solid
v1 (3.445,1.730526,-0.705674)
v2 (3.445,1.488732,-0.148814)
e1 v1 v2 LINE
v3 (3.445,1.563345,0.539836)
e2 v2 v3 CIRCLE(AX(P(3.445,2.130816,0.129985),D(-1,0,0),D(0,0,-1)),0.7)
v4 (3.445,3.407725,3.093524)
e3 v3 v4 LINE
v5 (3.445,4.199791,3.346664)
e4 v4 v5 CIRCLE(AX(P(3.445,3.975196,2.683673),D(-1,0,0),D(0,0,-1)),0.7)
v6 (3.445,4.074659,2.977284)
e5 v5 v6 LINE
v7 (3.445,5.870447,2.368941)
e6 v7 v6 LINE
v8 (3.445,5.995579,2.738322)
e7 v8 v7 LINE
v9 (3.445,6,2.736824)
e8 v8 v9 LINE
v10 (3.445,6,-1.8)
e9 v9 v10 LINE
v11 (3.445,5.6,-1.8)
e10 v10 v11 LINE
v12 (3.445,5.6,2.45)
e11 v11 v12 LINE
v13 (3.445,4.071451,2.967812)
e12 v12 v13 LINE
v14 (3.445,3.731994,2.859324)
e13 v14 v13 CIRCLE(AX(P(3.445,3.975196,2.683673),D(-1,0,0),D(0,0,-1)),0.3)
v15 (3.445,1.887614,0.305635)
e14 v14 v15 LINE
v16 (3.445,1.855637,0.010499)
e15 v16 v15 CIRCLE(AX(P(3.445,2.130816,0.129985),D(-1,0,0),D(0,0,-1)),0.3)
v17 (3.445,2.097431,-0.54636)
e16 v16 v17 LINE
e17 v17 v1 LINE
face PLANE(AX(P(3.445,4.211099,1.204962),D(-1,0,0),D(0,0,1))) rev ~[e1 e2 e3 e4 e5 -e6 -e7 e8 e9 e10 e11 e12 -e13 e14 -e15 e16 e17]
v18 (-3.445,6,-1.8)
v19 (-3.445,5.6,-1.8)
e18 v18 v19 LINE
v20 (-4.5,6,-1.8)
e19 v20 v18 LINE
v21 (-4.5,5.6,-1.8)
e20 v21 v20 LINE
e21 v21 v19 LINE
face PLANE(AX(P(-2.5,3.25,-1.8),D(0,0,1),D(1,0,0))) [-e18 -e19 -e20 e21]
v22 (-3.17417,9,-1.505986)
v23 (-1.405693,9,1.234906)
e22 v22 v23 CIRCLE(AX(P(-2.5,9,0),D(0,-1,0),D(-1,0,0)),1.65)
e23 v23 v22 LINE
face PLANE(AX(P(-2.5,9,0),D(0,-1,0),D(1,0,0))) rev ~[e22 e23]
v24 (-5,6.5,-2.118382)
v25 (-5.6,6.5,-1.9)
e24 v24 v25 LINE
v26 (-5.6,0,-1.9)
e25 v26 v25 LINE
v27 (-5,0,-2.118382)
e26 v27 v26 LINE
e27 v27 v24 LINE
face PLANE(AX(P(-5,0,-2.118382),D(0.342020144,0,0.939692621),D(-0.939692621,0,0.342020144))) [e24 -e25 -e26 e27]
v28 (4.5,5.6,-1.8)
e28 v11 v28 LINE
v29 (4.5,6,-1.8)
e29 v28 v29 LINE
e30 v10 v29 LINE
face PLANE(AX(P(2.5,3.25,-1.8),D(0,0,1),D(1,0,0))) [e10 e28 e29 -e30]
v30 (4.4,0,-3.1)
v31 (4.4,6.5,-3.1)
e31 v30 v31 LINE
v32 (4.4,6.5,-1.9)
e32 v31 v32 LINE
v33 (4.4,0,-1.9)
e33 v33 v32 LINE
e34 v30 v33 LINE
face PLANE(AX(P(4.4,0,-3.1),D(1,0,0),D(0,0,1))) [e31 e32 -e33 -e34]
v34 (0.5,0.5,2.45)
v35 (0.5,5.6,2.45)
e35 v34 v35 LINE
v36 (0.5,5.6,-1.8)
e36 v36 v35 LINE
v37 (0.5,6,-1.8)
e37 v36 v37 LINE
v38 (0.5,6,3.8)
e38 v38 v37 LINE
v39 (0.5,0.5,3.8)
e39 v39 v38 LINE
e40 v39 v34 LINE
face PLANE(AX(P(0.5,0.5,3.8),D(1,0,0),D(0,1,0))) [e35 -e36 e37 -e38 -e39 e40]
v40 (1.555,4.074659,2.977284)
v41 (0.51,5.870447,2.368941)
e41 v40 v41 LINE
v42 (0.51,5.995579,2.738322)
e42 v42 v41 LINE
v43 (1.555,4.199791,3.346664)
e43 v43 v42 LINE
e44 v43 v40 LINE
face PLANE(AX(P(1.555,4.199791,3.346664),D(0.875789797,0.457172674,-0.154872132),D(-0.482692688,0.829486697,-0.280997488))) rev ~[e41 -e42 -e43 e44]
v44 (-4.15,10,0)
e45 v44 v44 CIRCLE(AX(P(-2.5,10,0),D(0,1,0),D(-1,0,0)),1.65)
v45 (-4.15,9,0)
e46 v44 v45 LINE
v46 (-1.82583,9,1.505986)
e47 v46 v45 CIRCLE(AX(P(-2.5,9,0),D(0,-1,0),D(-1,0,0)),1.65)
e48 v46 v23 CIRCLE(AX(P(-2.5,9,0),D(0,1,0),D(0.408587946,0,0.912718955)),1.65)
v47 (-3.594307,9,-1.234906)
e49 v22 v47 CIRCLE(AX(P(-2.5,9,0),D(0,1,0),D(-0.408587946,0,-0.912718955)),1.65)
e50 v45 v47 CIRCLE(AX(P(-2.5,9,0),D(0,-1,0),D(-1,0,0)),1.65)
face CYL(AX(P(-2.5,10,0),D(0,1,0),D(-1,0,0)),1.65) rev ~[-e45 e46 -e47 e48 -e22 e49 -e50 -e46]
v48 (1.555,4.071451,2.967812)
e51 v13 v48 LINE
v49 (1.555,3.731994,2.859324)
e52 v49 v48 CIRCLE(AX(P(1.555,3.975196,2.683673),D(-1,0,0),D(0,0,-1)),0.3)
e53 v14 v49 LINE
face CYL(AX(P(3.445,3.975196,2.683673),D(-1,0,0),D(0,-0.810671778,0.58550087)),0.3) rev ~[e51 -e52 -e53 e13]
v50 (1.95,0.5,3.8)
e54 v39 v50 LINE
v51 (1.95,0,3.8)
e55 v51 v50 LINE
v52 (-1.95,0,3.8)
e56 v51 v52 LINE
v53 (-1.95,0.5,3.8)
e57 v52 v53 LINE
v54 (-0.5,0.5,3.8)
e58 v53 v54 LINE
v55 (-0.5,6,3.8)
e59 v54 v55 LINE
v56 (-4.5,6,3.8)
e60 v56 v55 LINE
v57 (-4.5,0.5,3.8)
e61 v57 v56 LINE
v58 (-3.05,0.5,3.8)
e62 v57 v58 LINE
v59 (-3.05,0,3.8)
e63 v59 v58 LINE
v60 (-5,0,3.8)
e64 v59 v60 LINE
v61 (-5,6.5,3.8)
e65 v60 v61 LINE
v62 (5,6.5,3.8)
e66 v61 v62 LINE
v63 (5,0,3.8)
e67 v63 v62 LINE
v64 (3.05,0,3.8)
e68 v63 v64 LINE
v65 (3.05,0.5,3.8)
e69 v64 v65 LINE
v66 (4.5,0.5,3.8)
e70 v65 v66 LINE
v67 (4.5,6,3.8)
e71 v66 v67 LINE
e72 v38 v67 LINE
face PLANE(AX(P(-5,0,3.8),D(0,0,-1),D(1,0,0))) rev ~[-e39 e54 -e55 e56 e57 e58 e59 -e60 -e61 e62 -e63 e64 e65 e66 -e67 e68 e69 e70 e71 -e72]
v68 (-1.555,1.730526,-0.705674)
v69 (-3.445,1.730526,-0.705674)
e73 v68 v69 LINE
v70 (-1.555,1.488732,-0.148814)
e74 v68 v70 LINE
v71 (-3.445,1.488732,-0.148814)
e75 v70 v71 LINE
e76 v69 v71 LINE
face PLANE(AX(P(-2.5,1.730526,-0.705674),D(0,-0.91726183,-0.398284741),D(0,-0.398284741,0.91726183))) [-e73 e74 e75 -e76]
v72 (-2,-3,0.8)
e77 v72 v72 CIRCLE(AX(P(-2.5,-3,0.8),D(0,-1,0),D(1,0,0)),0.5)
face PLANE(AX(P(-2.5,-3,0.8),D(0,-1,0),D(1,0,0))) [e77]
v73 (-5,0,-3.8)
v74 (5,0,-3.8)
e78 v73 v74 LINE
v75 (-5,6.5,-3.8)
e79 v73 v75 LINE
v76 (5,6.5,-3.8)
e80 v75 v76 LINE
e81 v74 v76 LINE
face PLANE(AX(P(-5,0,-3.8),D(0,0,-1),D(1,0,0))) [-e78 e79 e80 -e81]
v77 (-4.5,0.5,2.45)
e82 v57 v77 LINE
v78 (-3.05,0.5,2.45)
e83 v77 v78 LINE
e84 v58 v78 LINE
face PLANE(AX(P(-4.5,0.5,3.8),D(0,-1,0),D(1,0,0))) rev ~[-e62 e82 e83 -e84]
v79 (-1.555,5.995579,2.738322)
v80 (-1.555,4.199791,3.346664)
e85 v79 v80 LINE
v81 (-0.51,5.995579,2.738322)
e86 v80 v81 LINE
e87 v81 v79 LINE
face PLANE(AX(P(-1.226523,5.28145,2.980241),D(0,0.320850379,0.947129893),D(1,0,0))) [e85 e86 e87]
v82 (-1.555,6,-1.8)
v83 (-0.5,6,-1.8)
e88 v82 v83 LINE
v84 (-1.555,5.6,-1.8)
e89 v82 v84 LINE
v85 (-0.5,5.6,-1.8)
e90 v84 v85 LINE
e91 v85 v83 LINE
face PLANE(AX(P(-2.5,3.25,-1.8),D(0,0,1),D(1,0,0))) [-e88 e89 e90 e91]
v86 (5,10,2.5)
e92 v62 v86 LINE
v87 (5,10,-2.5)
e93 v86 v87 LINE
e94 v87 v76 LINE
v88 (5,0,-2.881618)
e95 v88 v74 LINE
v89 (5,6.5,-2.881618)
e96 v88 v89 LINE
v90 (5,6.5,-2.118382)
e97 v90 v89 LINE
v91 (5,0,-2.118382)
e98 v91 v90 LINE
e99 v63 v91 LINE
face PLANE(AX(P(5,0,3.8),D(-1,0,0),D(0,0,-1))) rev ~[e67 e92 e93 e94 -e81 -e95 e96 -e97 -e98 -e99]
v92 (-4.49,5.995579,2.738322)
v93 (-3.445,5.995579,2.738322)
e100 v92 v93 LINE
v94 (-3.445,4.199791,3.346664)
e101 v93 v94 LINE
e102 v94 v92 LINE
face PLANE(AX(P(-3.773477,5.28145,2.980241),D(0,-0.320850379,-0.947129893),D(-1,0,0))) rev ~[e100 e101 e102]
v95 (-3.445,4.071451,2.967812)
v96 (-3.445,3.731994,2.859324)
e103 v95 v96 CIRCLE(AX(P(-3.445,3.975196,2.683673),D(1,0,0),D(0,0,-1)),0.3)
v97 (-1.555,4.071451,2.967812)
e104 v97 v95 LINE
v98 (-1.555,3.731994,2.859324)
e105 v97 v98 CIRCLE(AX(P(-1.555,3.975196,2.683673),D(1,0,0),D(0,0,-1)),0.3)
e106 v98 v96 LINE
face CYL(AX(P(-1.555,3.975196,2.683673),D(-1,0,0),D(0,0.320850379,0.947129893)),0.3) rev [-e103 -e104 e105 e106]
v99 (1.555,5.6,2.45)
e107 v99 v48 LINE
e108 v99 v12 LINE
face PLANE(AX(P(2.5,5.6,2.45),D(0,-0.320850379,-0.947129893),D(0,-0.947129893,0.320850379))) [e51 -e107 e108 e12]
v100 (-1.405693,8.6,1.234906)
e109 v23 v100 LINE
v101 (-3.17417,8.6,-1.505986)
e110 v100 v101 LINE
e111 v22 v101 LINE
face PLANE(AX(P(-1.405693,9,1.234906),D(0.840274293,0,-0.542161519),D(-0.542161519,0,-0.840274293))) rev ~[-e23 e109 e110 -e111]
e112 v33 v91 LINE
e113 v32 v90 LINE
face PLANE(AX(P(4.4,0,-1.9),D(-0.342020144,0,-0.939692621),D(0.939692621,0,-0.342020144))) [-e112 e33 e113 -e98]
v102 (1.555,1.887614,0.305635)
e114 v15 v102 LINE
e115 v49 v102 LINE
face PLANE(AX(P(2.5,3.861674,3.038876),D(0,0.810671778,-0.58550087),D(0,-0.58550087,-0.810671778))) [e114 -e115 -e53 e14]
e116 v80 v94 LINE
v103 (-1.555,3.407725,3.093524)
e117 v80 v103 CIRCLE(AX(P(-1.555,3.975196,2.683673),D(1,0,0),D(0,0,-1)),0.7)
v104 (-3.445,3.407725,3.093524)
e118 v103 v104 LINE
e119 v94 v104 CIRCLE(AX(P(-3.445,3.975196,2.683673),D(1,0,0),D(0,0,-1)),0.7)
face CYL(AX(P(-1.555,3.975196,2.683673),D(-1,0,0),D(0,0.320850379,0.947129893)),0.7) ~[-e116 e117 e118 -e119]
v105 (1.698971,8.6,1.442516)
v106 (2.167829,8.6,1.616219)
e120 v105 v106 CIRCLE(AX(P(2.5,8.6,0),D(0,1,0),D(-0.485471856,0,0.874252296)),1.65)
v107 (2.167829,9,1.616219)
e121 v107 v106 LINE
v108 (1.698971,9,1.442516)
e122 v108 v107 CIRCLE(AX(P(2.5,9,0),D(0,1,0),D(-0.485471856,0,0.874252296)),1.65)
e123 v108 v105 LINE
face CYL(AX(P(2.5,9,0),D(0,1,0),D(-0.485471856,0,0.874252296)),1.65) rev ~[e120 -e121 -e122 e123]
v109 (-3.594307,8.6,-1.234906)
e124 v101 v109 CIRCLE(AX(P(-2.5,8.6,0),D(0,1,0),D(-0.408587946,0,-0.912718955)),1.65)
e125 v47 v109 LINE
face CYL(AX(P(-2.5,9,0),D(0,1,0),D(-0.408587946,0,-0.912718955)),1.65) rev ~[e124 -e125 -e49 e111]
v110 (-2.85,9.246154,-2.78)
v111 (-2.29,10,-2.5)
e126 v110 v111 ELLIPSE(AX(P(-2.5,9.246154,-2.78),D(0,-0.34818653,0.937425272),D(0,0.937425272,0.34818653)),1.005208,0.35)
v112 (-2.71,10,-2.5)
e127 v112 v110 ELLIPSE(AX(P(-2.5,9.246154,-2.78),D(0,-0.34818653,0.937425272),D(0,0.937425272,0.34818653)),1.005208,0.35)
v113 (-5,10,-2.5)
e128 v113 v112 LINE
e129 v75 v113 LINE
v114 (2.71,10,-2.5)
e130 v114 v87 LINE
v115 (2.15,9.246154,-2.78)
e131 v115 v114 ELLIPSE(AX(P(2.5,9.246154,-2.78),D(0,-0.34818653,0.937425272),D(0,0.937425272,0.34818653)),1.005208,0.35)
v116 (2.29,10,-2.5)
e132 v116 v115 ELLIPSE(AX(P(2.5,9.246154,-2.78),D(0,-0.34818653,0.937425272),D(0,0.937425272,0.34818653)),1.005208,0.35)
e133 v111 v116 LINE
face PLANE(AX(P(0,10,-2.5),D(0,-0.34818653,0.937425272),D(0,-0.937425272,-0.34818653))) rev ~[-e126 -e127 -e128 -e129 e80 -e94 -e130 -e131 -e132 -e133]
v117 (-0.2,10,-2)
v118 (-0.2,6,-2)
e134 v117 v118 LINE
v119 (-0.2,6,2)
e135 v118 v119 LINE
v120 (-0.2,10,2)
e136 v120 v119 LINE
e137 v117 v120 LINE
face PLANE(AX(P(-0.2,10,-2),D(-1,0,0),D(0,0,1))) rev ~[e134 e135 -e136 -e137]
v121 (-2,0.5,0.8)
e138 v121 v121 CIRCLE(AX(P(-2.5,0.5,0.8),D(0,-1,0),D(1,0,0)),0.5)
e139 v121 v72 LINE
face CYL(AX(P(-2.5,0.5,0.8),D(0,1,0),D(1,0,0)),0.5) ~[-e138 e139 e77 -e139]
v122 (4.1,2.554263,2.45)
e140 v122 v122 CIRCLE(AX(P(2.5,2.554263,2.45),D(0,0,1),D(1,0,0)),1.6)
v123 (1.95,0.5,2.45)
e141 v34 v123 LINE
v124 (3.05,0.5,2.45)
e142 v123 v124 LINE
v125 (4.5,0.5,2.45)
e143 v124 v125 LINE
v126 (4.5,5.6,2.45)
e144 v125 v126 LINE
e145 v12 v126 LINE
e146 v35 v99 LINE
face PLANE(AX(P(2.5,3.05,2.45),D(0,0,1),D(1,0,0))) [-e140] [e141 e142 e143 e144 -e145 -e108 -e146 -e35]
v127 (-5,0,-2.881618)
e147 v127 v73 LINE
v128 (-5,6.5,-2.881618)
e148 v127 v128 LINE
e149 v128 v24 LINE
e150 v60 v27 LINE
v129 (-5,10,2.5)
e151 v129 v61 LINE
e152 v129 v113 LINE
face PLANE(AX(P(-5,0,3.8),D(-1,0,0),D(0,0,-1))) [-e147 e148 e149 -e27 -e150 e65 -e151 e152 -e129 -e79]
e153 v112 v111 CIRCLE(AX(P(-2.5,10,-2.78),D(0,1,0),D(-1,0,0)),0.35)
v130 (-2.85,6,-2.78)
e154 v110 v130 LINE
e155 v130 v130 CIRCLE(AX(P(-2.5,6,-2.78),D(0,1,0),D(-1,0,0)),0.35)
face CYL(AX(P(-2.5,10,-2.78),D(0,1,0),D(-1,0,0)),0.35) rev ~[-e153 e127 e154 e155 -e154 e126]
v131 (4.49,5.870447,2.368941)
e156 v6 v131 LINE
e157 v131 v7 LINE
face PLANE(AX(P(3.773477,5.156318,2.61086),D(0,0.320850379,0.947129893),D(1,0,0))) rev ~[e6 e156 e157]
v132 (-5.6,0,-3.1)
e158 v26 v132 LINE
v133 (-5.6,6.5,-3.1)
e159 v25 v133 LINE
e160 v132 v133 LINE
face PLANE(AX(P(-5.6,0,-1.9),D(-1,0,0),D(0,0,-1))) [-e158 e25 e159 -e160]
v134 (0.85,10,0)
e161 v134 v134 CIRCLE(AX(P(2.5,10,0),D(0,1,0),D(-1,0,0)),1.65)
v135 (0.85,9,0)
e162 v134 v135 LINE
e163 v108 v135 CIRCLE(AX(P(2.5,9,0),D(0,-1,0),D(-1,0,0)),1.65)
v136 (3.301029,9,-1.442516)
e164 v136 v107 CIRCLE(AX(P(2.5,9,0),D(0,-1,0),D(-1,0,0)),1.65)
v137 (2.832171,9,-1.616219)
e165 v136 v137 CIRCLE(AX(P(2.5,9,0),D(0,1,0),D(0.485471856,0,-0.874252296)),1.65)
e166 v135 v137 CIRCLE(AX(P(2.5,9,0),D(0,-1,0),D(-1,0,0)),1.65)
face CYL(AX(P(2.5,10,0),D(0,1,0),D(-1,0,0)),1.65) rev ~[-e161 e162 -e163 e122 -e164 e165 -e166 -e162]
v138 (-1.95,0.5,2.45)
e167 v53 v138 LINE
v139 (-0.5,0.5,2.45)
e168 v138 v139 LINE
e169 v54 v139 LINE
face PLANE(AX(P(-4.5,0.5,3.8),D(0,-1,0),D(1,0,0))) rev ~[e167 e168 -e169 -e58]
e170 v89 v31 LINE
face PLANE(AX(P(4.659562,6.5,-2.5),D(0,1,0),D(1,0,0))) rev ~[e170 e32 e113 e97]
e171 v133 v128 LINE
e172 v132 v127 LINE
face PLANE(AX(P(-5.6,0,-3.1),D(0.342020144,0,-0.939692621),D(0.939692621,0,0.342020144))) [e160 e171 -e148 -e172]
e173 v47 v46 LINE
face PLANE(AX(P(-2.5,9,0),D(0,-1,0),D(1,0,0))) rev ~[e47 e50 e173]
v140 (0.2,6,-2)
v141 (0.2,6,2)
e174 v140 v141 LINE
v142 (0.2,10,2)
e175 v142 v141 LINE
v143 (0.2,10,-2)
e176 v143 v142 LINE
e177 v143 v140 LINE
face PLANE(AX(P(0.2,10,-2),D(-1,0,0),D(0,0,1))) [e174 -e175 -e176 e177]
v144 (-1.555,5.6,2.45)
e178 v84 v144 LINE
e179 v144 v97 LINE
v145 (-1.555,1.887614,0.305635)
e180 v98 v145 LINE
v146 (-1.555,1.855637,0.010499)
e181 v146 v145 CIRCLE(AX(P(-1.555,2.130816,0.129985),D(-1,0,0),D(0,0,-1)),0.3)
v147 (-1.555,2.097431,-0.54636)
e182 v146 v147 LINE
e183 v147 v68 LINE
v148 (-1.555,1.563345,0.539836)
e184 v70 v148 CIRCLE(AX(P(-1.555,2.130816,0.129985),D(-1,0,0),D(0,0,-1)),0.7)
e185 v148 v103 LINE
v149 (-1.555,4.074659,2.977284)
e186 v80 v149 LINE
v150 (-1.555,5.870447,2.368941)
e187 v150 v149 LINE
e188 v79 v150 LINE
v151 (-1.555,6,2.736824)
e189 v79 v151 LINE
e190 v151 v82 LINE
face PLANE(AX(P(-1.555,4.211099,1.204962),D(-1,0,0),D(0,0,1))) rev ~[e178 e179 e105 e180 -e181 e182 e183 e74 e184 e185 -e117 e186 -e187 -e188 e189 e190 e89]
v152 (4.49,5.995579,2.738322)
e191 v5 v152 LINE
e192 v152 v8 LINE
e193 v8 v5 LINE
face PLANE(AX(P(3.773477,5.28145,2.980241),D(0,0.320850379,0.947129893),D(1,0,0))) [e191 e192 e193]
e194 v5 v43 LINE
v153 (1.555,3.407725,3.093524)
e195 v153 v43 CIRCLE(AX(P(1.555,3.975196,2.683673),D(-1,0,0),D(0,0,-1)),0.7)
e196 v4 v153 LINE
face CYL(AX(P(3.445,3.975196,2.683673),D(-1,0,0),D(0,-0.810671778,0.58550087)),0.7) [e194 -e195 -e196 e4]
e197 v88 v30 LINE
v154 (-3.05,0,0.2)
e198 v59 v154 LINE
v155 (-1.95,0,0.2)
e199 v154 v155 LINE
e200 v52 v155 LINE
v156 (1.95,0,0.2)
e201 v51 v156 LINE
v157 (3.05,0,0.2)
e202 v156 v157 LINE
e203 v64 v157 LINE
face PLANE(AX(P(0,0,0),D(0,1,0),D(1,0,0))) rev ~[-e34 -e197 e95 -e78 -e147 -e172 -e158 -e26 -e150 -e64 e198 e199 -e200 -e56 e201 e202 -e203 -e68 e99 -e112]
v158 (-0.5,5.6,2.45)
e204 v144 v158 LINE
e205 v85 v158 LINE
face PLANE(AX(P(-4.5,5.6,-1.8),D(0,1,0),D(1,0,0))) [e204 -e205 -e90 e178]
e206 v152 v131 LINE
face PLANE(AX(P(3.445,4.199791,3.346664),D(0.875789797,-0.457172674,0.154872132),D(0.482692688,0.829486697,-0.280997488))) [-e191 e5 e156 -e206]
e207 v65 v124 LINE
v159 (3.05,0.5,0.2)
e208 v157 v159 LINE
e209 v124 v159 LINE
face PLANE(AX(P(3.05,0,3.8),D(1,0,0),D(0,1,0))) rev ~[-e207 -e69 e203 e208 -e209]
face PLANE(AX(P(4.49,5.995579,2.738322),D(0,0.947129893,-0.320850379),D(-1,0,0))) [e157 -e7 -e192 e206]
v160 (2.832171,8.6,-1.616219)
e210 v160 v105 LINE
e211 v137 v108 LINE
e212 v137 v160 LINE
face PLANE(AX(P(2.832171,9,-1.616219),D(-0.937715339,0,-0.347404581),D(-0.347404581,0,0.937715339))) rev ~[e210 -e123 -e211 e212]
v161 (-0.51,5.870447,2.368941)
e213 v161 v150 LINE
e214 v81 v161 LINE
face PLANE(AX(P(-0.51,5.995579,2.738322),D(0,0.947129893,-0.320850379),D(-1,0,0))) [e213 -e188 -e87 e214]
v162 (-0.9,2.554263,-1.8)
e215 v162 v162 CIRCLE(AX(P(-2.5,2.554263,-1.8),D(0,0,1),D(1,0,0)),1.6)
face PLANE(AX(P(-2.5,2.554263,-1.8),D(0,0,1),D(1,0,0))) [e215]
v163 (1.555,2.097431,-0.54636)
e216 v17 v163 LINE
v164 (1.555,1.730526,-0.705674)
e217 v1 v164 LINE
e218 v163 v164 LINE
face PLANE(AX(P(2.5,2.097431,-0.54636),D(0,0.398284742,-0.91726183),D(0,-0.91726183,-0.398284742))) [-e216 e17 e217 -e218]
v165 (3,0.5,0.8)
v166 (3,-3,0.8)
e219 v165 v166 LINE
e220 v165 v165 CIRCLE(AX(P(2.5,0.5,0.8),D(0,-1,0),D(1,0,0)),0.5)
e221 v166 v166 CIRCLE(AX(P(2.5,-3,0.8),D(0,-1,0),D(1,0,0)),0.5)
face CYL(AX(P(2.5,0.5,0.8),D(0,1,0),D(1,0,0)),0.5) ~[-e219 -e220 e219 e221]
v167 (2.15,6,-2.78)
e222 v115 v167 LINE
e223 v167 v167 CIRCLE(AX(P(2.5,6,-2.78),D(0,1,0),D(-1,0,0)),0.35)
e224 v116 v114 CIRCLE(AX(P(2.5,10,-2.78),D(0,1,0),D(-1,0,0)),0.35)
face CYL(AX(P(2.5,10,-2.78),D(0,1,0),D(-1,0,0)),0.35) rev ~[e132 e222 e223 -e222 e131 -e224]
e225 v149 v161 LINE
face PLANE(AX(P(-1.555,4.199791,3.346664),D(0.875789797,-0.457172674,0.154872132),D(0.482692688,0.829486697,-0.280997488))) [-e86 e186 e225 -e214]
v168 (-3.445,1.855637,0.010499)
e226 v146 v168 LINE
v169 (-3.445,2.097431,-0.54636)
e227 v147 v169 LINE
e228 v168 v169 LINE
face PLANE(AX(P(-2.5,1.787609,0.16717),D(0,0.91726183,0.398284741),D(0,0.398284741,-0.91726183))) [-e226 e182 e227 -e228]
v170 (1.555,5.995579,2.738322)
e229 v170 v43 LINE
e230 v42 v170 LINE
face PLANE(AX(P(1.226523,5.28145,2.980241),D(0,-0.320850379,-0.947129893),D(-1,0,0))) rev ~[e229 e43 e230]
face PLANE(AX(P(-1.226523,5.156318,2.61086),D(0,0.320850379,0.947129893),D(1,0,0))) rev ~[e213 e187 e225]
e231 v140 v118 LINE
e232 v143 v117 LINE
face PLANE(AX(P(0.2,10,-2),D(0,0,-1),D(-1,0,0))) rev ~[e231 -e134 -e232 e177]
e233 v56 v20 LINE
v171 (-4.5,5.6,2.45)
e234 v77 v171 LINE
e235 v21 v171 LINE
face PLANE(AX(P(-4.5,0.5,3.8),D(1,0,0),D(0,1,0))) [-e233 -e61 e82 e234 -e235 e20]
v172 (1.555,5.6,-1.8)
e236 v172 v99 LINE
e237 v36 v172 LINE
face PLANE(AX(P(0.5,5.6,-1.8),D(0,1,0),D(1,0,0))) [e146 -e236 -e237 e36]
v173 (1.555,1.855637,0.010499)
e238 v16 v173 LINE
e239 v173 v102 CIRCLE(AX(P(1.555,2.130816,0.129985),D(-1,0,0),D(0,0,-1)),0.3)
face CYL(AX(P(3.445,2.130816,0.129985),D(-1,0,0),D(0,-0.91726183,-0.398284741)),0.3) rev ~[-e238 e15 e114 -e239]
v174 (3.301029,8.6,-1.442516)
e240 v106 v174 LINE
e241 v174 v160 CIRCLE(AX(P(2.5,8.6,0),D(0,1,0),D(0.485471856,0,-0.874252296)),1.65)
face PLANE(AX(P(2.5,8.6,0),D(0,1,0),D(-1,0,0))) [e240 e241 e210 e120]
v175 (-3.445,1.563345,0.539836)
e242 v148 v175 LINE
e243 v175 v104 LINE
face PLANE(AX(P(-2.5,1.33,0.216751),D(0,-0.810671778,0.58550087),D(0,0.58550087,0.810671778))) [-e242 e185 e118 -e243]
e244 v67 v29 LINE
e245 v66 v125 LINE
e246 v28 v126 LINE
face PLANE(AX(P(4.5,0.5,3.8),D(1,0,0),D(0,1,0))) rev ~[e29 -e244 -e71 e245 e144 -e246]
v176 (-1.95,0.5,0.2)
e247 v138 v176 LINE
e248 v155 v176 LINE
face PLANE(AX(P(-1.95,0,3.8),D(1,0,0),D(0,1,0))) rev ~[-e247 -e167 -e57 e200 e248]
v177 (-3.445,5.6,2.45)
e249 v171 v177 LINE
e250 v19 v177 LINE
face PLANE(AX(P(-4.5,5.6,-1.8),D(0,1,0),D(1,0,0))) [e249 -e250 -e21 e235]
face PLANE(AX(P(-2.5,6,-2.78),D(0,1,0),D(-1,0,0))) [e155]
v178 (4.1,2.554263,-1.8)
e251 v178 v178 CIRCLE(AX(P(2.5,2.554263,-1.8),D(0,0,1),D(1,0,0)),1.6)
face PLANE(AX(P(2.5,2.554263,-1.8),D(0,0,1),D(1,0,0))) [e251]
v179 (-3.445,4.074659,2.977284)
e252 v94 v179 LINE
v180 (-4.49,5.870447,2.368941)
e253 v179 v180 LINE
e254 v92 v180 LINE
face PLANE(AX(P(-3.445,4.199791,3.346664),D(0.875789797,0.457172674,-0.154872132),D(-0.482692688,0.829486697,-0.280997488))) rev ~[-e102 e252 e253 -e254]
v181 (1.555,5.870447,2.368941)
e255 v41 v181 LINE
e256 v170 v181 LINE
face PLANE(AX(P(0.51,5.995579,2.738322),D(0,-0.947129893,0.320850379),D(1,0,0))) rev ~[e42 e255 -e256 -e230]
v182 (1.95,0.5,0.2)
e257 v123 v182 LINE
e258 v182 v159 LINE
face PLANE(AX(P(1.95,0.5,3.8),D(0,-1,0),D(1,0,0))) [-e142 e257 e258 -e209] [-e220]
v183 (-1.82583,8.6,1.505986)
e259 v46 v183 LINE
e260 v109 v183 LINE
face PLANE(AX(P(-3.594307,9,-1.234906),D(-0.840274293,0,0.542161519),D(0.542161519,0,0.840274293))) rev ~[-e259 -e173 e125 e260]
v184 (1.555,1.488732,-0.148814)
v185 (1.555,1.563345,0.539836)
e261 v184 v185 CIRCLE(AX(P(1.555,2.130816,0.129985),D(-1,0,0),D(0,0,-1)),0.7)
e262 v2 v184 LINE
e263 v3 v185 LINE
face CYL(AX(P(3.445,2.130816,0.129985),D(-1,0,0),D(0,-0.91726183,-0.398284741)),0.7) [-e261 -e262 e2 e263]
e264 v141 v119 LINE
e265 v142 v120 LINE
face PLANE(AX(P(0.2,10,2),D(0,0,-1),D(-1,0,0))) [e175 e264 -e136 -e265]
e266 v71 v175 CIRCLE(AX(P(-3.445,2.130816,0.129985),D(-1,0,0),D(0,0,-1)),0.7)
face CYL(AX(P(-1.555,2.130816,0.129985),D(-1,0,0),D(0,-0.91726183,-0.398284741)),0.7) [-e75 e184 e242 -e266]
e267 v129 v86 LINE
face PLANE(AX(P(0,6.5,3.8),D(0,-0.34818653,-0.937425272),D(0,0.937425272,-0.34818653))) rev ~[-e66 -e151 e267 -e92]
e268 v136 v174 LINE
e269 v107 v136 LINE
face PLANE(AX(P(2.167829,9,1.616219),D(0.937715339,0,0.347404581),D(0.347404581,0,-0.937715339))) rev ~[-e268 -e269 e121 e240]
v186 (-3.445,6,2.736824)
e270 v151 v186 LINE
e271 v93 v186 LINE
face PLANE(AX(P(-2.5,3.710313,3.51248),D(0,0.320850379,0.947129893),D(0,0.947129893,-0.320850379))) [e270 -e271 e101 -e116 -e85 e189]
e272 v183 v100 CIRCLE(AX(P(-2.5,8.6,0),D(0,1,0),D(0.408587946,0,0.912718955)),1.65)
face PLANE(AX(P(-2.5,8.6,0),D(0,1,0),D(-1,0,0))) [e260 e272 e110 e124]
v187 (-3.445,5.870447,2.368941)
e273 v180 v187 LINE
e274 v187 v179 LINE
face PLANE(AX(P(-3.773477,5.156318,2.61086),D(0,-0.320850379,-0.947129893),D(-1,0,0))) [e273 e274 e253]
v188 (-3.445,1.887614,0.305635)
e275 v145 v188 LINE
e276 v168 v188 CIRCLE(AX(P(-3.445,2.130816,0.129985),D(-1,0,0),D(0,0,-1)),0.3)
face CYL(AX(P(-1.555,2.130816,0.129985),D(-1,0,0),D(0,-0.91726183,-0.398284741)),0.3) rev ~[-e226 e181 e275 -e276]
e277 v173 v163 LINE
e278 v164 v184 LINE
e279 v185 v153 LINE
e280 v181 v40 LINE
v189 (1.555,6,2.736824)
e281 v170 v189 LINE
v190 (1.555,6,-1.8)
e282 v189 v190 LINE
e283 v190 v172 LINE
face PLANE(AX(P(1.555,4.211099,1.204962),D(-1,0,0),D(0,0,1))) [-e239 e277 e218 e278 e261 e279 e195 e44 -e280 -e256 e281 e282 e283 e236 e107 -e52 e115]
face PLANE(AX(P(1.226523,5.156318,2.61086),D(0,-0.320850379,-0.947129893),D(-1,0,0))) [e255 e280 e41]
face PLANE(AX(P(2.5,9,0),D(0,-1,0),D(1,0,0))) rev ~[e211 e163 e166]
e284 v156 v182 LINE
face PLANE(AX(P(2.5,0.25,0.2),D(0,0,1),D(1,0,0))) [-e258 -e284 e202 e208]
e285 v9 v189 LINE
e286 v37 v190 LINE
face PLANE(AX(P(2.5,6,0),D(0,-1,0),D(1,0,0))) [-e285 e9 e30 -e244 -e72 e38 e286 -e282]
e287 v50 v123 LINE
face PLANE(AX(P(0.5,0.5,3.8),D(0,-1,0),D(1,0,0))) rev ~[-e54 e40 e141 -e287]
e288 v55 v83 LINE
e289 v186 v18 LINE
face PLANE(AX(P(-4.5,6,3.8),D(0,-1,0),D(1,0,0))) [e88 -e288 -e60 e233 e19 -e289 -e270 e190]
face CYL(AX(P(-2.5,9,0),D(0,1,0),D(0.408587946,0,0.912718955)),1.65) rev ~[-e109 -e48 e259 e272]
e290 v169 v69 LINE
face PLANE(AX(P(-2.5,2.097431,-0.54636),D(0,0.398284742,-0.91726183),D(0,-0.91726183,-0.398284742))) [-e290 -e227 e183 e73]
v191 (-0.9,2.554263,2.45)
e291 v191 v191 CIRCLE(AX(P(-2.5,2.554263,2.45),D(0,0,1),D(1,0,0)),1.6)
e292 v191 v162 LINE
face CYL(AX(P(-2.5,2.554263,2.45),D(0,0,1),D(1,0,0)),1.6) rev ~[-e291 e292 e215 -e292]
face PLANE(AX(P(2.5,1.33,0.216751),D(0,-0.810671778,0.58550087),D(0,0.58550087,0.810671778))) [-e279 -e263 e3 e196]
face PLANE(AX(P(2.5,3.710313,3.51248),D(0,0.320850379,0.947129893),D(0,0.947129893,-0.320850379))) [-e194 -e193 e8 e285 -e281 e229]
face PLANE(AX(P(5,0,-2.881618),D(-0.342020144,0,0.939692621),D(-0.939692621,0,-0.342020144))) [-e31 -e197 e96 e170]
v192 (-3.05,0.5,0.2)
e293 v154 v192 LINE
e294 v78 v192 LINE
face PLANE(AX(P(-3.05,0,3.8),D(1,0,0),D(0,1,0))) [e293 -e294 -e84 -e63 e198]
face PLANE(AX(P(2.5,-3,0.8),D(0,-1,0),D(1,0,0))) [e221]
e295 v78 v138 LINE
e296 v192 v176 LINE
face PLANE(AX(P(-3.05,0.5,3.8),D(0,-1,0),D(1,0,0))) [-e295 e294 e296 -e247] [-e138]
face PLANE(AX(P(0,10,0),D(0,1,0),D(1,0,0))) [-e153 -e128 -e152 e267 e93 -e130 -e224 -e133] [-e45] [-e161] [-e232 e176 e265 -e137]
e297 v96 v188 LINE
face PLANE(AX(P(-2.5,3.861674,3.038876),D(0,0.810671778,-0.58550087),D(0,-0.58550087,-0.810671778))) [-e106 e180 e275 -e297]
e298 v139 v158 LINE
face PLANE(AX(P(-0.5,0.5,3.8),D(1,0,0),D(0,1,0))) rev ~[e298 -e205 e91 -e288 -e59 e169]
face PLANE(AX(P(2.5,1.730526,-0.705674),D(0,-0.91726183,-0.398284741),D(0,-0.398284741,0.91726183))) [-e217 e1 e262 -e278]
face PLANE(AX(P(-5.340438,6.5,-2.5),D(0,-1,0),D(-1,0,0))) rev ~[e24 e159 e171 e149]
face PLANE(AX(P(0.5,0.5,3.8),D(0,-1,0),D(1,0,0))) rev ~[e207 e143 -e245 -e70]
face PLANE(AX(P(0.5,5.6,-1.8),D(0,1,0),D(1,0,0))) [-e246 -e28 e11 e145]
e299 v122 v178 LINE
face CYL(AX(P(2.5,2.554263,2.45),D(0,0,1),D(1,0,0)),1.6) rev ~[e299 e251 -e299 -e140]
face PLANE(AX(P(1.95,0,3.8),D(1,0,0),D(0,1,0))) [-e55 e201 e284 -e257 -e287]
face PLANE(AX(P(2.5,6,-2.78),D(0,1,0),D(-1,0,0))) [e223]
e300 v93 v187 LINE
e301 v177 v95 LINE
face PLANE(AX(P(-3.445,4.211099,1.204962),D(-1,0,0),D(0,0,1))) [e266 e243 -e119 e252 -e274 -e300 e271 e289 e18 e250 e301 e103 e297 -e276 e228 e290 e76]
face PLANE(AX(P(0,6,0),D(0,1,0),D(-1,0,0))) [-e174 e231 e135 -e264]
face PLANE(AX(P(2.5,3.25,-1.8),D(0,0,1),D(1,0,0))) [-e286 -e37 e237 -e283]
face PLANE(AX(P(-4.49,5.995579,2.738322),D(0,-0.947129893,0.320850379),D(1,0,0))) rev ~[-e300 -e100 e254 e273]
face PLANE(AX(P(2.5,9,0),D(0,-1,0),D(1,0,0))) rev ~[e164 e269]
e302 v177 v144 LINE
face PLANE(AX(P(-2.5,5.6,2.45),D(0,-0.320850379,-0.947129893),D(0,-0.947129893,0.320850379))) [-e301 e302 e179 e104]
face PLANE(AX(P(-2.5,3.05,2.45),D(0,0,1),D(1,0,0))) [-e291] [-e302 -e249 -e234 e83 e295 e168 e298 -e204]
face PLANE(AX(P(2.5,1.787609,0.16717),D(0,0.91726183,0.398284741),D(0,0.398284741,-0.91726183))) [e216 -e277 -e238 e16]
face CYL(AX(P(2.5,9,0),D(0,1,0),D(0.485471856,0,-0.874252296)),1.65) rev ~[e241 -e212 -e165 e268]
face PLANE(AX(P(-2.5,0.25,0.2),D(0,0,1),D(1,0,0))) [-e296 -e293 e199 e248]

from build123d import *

# Parameters (mm, degrees)
SKETCH1_W               = 10
SKETCH1_H               = 7.6
EXTRUDE1_DEPTH          = 10
SKETCH2_OUTSIDE_W       = 12.81
SKETCH2_OUTSIDE_H       = 15.21
CUT_EXTRUDE1_DEPTH      = 6
CUT_EXTRUDE1_DEPTH_BACK = 6
SKETCH3_R               = 1.65
SKETCH3_R_2             = 0.35
SKETCH3_W               = 0.4
SKETCH3_H               = 4
CUT_EXTRUDE2_DEPTH      = 4
SKETCH4_W               = 4
SKETCH4_H               = 5.5
CUT_EXTRUDE3_DEPTH      = 5.6
SKETCH5_W               = 4
SKETCH5_H               = 5.1
EXTRUDE2_DEPTH          = 4.25
SKETCH6_R               = 1.6
CUT_EXTRUDE4_DEPTH      = 4.25
EXTRUDE3_DEPTH          = 6.5
CUT_EXTRUDE5_DEPTH      = 6.5
SKETCH10_W              = 1.1
SKETCH10_H              = 0.5
CUT_EXTRUDE6_DEPTH      = 3.6
SKETCH11_R              = 0.5
EXTRUDE4_DEPTH          = 3.5
SKETCH12_R              = 1.65
EXTRUDE5_DEPTH          = 3
CUT_EXTRUDE7_DEPTH      = 0.4
EXTRUDE6_DEPTH          = 0.945
EXTRUDE9_DEPTH          = 0.39
LPATTERN1_COUNT         = 2
LPATTERN1_PITCH         = 5
FILLET1_R               = 0.3
FILLET2_R               = 0.7


with BuildPart() as part:
    # Sketch1 → Extrude1 (new body)
    with BuildSketch(Plane(origin=(0, 0, 0), x_dir=(1, 0, 0), z_dir=(0, 1, 0))):
        Rectangle(SKETCH1_W, SKETCH1_H)
    extrude(amount=EXTRUDE1_DEPTH)

    # Sketch2 outside → Cut-Extrude1 (cut, two sides)
    with BuildSketch(Plane(origin=(0, 0, 0), x_dir=(0, 0, -1), z_dir=(1, 0, 0))) as cut_extrude1_sk:
        with Locations((0, 5)):
            Rectangle(SKETCH2_OUTSIDE_W, SKETCH2_OUTSIDE_H)
        Polygon((2.5, 10), (3.8, 6.5), (3.8, 0), (-3.8, 0), (-3.8, 6.5), (-2.5, 10), align=None, mode=Mode.SUBTRACT)
    extrude(amount=CUT_EXTRUDE1_DEPTH, mode=Mode.SUBTRACT)
    extrude(cut_extrude1_sk.sketch, amount=-CUT_EXTRUDE1_DEPTH_BACK, mode=Mode.SUBTRACT)

    # Sketch3 → Cut-Extrude2 (cut)
    with BuildSketch(Plane(origin=(0, 10, 0), x_dir=(-1, 0, 0), z_dir=(0, 1, 0))):
        with Locations((2.5, 0)):
            Circle(SKETCH3_R)
        with Locations((-2.5, 0)):
            Circle(SKETCH3_R)
        with Locations((2.5, -2.78)):
            Circle(SKETCH3_R_2)
        with Locations((-2.5, -2.78)):
            Circle(SKETCH3_R_2)
        Rectangle(SKETCH3_W, SKETCH3_H)
    extrude(amount=-CUT_EXTRUDE2_DEPTH, mode=Mode.SUBTRACT)

    # Sketch4 → Cut-Extrude3 (cut)
    with BuildSketch(Plane.XY.offset(3.8)):
        with Locations((-2.5, 3.25)):
            Rectangle(SKETCH4_W, SKETCH4_H)
        with Locations((2.5, 3.25)):
            Rectangle(SKETCH4_W, SKETCH4_H)
    extrude(amount=-CUT_EXTRUDE3_DEPTH, mode=Mode.SUBTRACT)

    # Sketch5 → Extrude2 (add)
    with BuildSketch(Plane.XY.offset(-1.8)):
        with Locations((-2.5, 3.05)):
            Rectangle(SKETCH5_W, SKETCH5_H)
        with Locations((2.5, 3.05)):
            Rectangle(SKETCH5_W, SKETCH5_H)
    extrude(amount=EXTRUDE2_DEPTH)

    # Sketch6 → Cut-Extrude4 (cut)
    with BuildSketch(Plane.XY.offset(2.45)):
        with Locations((-2.5, 2.554263468)):
            Circle(SKETCH6_R)
        with Locations((2.5, 2.554263468)):
            Circle(SKETCH6_R)
    extrude(amount=-CUT_EXTRUDE4_DEPTH, mode=Mode.SUBTRACT)

    # Sketch7 → Extrude3 (add)
    with BuildSketch(Plane(origin=(0, 0, 0), x_dir=(1, 0, 0), z_dir=(0, 1, 0))):
        Polygon((-5.6, 3.1), (-5, 2.881617859), (-5, 2.118382141), (-5.6, 1.9), align=None)
    extrude(amount=EXTRUDE3_DEPTH)

    # Sketch9 → Cut-Extrude5 (cut)
    with BuildSketch(Plane(origin=(0, 0, 0), x_dir=(1, 0, 0), z_dir=(0, 1, 0))):
        Polygon((5, 2.881617859), (4.4, 3.1), (4.4, 1.9), (5, 2.118382141), align=None)
    extrude(amount=CUT_EXTRUDE5_DEPTH, mode=Mode.SUBTRACT)

    # Sketch10 → Cut-Extrude6 (cut)
    with BuildSketch(Plane.XY.offset(3.8)):
        with Locations((-2.5, 0.25)):
            Rectangle(SKETCH10_W, SKETCH10_H)
        with Locations((2.5, 0.25)):
            Rectangle(SKETCH10_W, SKETCH10_H)
    extrude(amount=-CUT_EXTRUDE6_DEPTH, mode=Mode.SUBTRACT)

    # Sketch11 → Extrude4 (add)
    with BuildSketch(Plane.XZ.offset(-0.5)):
        with Locations((-2.5, 0.8)):
            Circle(SKETCH11_R)
        with Locations((2.5, 0.8)):
            Circle(SKETCH11_R)
    extrude(amount=EXTRUDE4_DEPTH)

    # Sketch12 → Extrude5 (add)
    with BuildSketch(Plane.XZ.offset(-6)):
        with Locations((2.5, 0)):
            Circle(SKETCH12_R)
        with Locations((-2.5, 0)):
            Circle(SKETCH12_R)
    extrude(amount=-EXTRUDE5_DEPTH)

    # Sketch13 → Cut-Extrude7 (cut)
    with BuildSketch(Plane(origin=(0, 9, 0), x_dir=(-1, 0, 0), z_dir=(0, 1, 0))):
        with BuildLine():
            Line((3.594307251, -1.234905519), (1.825829895, 1.505986278))
            ThreePointArc((1.825829895, 1.505986278), (1.605433494, 1.386452583), (1.405692749, 1.234905519))
            Line((1.405692749, 1.234905519), (3.174170105, -1.505986278))
            ThreePointArc((3.174170105, -1.505986278), (3.394566506, -1.386452583), (3.594307251, -1.234905519))
        make_face()
        with BuildLine():
            Line((-2.83217089, -1.616218581), (-1.698971441, 1.44251629))
            ThreePointArc((-1.698971441, 1.44251629), (-1.926782442, 1.54723031), (-2.16782911, 1.616218581))
            Line((-2.16782911, 1.616218581), (-3.301028559, -1.44251629))
            ThreePointArc((-3.301028559, -1.44251629), (-3.073217558, -1.54723031), (-2.83217089, -1.616218581))
        make_face()
    extrude(amount=-CUT_EXTRUDE7_DEPTH, mode=Mode.SUBTRACT)

    # Sketch14 → Extrude6 (add, symmetric)
    with BuildSketch(Plane.ZY.offset(2.5)):
        Polygon((2.45, 5.6), (3.03887637, 3.861674443), (0.167170254, 1.787608865), (-0.546359637, 2.097431054), (-0.705673534, 1.730526322), (0.216750724, 1.33), (3.512480259, 3.710312924), (2.736824279, 6), (-1.8, 6), (-1.8, 5.6), align=None)
    extrude6 = extrude(amount=EXTRUDE6_DEPTH, both=True)

    # Sketch15 → Extrude9 (add)
    with BuildSketch(Plane(origin=(0, 1.449355072, 4.278403908), x_dir=(1, 0, 0), z_dir=(0, 0.320850379, 0.947129893))):
        Polygon((-1.555, 4.8), (-1.555, 2.903968921), (-0.51, 4.8), align=None)
        Polygon((-3.445, 4.8), (-3.445, 2.903968921), (-4.49, 4.8), align=None)
    extrude9 = extrude(amount=-EXTRUDE9_DEPTH)

    # LPattern1: Extrude6, Extrude9 ×2
    with Locations(*[(i * LPATTERN1_PITCH, 0, 0) for i in range(1, LPATTERN1_COUNT)]):
        add(extrude6)
        add(extrude9)

    # Fillet1
    fillet1_edges = [part.edges().sort_by_distance(p)[0] for p in [
        (-2.5, 3.861674443, 3.03887637),
        (-2.5, 1.787608865, 0.167170254),
        (2.5, 3.861674443, 3.03887637),
        (2.5, 1.787608865, 0.167170254),
    ]]
    fillet(fillet1_edges, radius=FILLET1_R)

    # Fillet2
    fillet2_edges = [part.edges().sort_by_distance(p)[0] for p in [
        (-2.5, 3.710312924, 3.512480259),
        (-2.5, 1.33, 0.216750724),
        (2.5, 1.33, 0.216750724),
        (2.5, 3.710312924, 3.512480259),
    ]]
    fillet(fillet2_edges, radius=FILLET2_R)


solid = part.part
